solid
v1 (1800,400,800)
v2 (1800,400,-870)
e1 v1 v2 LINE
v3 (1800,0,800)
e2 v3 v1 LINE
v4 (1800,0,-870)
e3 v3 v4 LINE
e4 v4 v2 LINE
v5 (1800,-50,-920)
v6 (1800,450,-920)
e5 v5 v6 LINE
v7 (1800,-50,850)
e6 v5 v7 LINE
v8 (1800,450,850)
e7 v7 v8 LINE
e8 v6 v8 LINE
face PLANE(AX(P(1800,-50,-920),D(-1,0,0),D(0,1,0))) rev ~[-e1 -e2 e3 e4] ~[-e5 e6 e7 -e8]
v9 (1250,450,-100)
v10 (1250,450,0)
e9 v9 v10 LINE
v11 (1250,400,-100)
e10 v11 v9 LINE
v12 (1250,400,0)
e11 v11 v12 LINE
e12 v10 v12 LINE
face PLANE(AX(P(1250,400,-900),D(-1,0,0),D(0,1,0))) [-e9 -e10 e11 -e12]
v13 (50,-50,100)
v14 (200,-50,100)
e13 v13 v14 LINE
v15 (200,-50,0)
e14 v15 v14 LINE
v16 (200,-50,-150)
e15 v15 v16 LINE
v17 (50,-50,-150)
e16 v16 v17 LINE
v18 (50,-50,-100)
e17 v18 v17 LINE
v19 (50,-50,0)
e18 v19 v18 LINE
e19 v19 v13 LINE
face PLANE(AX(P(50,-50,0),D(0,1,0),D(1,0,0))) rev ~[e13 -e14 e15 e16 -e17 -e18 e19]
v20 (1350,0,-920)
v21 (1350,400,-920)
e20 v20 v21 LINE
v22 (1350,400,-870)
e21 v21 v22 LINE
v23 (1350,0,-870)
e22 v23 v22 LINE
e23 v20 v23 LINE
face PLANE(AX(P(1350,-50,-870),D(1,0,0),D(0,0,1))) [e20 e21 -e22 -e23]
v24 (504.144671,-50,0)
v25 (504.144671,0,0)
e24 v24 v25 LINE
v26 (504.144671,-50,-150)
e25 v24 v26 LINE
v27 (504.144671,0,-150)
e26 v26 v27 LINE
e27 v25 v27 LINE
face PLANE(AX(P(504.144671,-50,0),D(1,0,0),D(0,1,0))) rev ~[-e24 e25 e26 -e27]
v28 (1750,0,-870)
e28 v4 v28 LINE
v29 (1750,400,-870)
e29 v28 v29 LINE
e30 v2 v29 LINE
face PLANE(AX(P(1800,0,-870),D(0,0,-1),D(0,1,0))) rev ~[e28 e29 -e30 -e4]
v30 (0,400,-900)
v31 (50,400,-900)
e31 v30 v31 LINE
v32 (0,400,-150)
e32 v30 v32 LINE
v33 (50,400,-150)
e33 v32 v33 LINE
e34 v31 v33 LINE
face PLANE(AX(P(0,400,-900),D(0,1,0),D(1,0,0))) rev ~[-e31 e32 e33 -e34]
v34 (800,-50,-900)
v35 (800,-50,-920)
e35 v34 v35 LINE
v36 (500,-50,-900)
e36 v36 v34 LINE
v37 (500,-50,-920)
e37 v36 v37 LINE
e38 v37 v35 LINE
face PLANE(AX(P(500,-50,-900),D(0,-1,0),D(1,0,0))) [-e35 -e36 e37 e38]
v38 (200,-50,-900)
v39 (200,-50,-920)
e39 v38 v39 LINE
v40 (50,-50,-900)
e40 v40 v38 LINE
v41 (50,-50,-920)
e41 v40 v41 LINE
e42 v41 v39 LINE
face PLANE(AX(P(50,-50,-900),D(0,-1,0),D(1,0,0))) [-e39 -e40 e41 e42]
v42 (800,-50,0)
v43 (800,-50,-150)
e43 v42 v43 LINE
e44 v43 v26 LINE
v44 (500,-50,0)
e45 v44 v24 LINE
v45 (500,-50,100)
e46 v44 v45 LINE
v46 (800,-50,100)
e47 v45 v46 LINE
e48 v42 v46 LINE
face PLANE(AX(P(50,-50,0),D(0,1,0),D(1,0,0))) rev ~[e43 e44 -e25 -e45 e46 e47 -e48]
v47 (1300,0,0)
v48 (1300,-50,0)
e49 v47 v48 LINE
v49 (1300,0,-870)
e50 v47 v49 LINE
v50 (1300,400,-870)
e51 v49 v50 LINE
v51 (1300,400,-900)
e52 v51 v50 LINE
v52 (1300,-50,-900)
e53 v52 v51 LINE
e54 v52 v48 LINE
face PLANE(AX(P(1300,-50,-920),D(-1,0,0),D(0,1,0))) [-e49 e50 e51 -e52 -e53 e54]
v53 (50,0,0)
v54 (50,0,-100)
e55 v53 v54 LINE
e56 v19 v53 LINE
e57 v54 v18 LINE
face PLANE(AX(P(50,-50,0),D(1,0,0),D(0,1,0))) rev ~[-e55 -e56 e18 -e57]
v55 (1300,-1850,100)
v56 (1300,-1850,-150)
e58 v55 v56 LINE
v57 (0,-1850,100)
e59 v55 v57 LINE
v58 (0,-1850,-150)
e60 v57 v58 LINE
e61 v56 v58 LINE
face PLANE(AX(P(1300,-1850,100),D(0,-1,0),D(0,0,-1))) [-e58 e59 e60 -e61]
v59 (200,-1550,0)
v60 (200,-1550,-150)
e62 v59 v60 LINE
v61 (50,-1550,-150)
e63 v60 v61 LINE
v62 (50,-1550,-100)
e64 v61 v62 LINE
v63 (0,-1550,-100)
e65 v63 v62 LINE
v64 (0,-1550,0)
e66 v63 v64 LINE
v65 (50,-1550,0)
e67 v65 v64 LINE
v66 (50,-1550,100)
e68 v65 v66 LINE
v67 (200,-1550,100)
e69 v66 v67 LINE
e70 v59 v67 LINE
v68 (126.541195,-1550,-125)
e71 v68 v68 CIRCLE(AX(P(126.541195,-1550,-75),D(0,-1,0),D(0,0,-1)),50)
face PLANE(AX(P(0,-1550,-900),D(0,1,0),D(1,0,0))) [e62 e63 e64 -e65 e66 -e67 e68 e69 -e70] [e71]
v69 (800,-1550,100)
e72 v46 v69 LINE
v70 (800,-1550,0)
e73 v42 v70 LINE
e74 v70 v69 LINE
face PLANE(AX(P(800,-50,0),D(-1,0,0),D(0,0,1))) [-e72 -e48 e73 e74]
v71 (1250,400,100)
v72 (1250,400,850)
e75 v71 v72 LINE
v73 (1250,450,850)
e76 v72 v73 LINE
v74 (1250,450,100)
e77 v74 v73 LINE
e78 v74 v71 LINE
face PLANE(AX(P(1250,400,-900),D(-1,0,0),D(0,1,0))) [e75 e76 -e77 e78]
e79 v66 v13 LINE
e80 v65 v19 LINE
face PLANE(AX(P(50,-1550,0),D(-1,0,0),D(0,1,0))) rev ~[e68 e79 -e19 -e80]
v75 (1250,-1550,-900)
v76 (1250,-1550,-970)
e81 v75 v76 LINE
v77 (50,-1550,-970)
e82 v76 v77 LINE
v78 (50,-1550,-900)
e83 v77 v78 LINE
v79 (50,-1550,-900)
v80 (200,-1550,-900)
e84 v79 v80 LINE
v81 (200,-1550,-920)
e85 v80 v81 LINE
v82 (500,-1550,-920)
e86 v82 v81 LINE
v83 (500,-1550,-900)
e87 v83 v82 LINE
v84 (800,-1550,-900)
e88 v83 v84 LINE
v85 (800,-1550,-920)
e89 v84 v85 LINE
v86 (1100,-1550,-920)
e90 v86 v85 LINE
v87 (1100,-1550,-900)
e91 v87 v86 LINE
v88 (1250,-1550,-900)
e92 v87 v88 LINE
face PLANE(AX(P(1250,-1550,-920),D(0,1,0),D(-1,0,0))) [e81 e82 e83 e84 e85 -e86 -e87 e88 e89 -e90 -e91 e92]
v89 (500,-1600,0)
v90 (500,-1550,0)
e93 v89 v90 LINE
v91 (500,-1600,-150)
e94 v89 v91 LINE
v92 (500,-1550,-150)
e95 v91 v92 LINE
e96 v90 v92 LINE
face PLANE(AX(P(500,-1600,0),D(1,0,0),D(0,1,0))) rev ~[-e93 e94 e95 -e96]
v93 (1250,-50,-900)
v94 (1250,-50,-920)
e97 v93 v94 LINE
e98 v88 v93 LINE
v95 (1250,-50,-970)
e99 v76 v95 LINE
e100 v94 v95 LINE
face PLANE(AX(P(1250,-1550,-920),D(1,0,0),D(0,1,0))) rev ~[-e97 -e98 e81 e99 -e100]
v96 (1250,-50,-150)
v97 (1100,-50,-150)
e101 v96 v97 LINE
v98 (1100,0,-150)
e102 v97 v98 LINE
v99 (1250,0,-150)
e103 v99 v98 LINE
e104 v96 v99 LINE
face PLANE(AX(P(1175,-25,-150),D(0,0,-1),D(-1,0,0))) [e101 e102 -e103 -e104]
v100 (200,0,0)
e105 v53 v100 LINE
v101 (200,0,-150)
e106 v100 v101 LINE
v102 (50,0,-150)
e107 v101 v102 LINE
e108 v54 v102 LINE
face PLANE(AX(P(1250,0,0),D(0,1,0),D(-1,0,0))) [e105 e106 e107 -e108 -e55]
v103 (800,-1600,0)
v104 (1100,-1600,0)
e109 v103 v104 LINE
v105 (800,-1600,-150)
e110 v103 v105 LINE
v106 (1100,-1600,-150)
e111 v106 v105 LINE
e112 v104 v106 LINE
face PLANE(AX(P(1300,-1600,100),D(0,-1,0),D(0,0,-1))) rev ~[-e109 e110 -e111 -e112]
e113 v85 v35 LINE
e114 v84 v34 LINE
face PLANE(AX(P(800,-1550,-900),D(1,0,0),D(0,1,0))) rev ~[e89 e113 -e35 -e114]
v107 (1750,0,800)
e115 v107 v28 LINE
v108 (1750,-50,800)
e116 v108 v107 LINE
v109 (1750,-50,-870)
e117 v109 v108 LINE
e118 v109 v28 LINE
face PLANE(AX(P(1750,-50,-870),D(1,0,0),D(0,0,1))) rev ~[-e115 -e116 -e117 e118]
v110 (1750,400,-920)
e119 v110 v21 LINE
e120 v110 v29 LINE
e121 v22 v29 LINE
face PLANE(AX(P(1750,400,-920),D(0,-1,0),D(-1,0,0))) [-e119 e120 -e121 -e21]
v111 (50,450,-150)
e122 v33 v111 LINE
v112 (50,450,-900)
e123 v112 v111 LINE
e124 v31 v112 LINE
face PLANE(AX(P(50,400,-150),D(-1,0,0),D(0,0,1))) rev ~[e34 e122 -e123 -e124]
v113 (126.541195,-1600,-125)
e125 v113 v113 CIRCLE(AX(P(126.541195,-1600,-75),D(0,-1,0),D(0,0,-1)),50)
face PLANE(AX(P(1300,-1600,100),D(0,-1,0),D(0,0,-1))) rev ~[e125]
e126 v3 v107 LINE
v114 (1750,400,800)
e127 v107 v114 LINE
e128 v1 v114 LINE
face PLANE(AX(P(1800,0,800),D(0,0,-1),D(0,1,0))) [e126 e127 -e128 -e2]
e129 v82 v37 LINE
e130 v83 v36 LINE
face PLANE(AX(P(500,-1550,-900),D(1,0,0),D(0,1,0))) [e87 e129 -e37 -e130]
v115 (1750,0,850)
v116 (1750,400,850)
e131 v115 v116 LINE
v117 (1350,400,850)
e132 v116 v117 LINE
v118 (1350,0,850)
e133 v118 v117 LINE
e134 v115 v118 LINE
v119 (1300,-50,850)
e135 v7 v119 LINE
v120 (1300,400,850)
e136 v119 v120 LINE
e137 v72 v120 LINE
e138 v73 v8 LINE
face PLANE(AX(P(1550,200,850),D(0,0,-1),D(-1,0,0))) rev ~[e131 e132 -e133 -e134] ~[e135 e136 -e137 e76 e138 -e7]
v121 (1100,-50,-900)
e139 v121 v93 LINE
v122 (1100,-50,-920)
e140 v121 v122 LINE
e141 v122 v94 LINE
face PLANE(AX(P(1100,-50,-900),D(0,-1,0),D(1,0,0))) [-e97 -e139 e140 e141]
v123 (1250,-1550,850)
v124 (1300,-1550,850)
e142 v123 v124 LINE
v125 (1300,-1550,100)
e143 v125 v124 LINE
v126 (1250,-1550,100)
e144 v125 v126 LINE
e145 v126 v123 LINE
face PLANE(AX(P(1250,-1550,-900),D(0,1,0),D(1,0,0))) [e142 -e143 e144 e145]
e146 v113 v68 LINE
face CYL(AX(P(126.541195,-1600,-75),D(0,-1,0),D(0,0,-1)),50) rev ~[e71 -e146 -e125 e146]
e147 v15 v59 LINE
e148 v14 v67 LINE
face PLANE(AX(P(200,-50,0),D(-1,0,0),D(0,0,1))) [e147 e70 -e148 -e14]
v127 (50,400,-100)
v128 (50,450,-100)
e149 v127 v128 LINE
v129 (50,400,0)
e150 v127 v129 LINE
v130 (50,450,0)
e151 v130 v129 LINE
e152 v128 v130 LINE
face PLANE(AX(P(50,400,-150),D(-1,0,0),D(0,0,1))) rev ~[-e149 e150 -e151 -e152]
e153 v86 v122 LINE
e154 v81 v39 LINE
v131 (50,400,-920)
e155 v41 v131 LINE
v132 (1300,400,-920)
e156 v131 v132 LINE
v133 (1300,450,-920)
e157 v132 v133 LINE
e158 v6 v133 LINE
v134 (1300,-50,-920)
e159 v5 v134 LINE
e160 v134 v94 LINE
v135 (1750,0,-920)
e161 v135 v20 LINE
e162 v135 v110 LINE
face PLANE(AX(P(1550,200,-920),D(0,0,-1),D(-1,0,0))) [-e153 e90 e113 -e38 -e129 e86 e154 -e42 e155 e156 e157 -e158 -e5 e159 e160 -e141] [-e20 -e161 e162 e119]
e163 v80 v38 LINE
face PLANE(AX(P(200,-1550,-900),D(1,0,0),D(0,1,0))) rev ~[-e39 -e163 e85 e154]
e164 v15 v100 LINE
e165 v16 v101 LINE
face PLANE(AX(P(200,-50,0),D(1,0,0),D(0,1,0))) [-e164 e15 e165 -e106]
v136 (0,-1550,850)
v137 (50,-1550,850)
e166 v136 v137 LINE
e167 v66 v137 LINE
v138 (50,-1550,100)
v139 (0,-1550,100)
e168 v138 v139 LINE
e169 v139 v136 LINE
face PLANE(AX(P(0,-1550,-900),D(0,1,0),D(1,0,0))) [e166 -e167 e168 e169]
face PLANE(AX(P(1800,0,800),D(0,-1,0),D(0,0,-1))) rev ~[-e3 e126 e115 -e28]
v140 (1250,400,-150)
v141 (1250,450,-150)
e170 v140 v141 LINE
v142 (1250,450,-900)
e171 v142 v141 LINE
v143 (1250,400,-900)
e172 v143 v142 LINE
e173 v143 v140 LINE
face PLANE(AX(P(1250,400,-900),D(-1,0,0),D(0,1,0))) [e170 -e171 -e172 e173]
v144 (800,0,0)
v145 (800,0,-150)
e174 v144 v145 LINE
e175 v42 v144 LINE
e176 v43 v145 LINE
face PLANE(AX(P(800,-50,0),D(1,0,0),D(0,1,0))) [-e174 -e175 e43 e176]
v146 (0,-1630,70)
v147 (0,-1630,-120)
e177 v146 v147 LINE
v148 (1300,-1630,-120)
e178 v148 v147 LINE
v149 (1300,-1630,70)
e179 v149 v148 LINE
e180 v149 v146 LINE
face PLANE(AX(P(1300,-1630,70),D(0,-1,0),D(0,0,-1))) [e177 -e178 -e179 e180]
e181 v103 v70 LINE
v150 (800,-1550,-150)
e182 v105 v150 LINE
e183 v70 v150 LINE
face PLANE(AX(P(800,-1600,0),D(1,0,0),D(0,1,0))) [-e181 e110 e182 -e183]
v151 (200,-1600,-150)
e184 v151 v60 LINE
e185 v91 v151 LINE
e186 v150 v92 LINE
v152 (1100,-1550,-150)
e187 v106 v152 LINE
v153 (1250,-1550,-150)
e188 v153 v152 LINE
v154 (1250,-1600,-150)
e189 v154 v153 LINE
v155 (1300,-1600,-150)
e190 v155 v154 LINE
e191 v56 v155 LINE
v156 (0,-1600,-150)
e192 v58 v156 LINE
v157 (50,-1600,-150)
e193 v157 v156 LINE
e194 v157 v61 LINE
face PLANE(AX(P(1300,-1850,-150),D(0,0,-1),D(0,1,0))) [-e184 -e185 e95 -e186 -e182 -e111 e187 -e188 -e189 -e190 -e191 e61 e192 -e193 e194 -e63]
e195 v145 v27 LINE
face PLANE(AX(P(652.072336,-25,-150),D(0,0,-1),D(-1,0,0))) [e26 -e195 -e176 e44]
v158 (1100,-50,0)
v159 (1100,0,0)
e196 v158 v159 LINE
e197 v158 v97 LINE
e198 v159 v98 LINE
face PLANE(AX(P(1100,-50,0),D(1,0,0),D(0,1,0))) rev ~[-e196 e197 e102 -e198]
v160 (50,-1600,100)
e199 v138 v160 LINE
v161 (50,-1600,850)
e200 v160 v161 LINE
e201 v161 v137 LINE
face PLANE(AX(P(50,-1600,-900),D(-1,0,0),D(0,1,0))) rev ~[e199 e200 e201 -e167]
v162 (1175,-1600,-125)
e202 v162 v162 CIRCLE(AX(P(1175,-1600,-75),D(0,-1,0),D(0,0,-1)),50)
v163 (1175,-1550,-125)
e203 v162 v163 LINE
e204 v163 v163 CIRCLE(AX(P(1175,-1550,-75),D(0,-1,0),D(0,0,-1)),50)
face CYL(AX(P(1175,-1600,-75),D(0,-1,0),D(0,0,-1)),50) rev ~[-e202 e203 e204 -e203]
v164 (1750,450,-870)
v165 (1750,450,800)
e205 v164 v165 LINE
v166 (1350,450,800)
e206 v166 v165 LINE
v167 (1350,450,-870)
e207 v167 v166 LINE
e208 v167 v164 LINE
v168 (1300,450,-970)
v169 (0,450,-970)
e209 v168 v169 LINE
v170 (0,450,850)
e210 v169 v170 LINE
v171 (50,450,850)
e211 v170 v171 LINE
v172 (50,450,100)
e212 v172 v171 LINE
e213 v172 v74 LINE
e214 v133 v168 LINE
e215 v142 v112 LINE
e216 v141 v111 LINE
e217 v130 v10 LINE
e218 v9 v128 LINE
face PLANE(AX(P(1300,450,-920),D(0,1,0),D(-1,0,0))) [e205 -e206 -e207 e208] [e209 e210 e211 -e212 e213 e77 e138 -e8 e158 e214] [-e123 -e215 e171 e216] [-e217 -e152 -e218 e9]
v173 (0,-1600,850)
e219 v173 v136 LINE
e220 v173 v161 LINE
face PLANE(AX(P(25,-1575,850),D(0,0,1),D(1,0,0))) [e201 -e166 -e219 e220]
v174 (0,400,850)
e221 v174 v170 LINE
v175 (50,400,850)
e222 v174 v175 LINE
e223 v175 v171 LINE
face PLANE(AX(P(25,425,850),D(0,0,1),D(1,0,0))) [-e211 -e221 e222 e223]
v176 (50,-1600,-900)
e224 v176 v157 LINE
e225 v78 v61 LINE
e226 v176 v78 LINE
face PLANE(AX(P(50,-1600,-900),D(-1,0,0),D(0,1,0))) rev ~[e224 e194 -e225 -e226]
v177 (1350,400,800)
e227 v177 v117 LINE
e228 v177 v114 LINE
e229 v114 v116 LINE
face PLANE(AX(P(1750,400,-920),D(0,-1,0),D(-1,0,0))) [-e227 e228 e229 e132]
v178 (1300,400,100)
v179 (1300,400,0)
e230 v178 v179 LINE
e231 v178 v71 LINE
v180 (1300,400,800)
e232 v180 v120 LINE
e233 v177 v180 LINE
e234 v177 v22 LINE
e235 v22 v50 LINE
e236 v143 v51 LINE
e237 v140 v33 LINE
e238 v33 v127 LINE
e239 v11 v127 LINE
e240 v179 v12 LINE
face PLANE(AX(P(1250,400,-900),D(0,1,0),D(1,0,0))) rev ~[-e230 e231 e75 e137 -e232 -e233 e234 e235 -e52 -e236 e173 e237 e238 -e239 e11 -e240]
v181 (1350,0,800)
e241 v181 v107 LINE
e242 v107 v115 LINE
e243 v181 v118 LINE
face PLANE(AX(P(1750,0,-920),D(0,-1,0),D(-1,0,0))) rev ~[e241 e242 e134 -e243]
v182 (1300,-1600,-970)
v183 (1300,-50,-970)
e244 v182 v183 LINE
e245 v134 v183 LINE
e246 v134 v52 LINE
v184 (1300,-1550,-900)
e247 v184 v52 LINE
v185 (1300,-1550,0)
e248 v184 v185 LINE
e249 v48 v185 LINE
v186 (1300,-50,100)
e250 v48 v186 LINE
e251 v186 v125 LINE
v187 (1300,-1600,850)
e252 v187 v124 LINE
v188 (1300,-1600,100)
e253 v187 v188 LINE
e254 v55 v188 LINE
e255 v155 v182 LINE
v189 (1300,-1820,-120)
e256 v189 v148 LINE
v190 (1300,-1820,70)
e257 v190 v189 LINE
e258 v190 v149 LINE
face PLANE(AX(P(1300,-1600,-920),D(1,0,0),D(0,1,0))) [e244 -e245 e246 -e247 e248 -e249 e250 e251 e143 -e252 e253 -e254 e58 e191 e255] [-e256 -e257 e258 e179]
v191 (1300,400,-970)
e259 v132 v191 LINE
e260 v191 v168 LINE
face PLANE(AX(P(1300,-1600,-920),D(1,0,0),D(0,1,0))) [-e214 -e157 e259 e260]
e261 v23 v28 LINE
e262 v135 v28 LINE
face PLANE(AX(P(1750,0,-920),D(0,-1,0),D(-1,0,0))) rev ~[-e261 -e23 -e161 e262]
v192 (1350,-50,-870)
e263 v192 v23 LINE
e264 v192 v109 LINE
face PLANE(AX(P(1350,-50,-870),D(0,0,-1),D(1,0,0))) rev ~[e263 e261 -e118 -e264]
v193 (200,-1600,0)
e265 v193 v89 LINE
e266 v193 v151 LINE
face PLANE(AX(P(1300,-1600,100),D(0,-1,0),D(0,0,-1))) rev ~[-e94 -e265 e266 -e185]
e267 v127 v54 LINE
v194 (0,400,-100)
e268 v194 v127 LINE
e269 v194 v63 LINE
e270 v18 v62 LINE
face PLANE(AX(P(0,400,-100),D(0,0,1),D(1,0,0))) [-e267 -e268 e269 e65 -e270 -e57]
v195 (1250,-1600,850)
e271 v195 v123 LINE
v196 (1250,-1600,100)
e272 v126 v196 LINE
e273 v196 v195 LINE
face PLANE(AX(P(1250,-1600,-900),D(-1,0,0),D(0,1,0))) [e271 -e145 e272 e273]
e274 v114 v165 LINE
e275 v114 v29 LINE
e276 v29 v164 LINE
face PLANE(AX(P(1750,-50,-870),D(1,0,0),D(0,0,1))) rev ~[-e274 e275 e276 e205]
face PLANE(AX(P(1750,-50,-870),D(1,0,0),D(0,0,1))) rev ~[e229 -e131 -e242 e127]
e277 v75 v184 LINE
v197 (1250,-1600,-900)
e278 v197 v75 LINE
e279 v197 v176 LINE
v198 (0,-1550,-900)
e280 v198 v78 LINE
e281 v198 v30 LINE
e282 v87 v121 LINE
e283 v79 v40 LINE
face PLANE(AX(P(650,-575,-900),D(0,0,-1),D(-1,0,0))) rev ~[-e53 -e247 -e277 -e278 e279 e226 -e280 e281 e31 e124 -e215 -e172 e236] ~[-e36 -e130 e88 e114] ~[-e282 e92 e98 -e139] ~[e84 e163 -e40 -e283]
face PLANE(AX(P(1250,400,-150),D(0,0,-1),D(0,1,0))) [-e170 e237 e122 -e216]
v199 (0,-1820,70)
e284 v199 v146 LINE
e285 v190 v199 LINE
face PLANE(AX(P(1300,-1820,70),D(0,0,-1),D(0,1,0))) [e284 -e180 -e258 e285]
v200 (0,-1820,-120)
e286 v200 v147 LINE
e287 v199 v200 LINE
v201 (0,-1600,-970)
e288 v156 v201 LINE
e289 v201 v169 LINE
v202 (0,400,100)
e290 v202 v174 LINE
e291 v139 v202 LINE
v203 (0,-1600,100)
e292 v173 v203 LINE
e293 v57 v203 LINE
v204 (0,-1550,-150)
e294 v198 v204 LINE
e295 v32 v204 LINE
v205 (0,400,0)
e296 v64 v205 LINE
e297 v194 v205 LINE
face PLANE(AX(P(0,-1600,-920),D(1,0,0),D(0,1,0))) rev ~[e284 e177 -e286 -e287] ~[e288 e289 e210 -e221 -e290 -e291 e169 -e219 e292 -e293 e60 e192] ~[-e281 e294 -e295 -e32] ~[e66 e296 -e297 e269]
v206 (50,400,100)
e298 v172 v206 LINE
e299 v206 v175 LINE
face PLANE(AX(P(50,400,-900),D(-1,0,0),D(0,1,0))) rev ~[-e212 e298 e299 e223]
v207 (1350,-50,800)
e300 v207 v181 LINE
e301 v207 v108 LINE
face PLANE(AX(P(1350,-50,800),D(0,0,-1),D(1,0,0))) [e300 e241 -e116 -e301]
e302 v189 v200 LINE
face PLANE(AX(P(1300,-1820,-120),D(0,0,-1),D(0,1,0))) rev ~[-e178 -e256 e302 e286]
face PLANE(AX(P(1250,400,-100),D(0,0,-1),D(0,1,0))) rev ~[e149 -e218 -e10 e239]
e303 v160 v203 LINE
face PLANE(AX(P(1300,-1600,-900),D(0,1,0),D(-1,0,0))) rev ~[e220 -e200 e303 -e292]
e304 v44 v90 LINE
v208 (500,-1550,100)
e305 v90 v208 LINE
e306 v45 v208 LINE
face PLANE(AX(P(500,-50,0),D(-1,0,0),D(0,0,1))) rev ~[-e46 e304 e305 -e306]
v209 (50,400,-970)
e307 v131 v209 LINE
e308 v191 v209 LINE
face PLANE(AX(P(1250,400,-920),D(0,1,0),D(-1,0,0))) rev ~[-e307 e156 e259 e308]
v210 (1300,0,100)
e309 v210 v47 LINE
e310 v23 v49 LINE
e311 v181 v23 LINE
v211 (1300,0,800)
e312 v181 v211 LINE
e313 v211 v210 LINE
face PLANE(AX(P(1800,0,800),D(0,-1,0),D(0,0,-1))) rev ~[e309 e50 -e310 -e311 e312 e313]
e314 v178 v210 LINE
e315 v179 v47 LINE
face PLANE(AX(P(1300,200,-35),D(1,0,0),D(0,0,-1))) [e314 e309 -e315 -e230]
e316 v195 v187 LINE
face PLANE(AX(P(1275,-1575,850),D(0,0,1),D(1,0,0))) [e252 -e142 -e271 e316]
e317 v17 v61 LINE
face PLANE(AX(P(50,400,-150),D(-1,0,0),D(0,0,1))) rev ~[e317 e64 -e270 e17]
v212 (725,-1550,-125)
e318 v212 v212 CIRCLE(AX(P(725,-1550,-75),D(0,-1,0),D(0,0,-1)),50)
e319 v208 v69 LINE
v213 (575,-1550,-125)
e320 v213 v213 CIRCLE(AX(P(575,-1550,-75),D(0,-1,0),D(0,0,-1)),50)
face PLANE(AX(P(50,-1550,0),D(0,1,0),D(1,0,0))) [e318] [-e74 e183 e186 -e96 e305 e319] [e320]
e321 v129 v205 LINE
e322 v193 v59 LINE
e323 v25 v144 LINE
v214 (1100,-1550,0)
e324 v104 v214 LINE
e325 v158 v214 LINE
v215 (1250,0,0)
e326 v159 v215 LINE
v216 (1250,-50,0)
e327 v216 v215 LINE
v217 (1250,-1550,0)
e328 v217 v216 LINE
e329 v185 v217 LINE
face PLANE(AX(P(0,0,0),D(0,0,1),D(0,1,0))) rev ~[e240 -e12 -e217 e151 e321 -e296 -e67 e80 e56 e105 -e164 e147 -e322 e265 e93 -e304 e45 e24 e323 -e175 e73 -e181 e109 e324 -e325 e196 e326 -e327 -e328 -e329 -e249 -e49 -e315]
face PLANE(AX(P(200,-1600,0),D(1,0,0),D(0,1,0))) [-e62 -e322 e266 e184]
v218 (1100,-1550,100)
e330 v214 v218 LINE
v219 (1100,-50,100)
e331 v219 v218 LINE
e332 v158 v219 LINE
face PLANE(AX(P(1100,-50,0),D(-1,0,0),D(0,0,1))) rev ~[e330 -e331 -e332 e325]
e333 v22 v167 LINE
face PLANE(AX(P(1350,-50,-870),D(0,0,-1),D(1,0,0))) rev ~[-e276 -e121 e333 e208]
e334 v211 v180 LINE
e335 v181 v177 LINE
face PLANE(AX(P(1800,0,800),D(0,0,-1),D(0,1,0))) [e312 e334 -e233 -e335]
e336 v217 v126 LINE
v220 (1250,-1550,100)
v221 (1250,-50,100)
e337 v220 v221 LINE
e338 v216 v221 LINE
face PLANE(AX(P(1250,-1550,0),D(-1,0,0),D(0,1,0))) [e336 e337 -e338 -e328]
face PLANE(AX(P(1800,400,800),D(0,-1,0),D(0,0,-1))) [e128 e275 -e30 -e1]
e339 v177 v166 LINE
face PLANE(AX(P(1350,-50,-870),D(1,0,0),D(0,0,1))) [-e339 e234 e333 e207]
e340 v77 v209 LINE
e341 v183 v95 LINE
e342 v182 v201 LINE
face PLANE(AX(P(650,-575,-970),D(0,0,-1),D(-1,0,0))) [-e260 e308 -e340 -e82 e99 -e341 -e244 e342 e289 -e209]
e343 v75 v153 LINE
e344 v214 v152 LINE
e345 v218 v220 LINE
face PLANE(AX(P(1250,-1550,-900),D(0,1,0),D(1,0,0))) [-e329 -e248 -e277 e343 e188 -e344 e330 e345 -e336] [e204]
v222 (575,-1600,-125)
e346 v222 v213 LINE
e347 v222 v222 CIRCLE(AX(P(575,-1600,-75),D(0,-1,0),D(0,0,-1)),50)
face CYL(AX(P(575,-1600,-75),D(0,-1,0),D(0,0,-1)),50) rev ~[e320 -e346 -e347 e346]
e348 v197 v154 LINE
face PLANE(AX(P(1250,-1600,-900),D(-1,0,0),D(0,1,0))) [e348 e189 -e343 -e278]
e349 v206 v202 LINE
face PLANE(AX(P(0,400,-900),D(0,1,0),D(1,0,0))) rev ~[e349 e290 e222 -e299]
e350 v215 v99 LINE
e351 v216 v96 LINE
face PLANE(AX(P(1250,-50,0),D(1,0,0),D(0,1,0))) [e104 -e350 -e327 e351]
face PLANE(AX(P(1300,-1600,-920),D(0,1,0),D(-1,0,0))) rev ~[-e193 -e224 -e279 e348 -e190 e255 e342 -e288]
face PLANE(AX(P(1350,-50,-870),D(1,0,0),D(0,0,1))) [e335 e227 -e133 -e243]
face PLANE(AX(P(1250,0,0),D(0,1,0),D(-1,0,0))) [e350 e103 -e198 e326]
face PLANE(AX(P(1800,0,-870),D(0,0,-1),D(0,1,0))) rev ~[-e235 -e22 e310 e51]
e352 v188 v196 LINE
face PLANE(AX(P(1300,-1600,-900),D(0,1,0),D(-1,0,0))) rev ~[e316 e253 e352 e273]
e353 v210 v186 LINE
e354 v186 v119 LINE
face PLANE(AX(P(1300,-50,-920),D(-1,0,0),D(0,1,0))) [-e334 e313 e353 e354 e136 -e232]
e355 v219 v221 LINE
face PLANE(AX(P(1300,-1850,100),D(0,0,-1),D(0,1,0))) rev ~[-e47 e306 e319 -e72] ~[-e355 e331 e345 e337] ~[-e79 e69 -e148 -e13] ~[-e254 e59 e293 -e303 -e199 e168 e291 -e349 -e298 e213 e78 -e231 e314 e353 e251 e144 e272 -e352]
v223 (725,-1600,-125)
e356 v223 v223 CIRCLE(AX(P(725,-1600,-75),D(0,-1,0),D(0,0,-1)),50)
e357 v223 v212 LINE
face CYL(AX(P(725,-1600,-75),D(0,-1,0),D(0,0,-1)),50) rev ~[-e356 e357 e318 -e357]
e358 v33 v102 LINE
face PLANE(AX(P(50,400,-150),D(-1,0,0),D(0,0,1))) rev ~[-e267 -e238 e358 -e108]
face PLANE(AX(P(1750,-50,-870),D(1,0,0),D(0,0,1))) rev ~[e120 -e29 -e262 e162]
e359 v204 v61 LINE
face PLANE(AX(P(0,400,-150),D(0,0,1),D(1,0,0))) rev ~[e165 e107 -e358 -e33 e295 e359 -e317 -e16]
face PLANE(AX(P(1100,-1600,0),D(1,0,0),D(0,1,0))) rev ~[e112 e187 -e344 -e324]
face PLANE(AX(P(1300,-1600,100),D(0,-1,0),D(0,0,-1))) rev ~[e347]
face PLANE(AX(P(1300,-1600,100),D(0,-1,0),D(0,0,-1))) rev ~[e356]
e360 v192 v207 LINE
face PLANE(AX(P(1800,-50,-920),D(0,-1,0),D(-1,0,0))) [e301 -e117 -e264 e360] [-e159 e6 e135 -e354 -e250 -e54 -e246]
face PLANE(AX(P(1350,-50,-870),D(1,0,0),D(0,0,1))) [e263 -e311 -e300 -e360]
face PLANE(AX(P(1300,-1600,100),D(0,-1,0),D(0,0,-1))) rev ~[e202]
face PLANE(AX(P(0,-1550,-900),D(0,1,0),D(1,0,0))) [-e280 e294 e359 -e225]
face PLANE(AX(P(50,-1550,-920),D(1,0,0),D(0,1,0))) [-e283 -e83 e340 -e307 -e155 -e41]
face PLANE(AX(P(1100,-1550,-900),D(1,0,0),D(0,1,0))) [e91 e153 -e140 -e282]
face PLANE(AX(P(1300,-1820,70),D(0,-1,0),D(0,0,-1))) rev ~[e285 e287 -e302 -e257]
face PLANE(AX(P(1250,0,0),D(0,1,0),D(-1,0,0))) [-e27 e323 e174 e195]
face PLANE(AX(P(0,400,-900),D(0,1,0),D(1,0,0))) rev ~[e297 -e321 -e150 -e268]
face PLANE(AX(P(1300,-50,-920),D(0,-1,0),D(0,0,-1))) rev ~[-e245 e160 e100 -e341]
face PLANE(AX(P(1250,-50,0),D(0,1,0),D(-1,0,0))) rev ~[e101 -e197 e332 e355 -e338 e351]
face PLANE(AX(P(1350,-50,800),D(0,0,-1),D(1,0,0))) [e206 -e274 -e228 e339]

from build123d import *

# Parameters (mm, degrees)
SKETCH1_W                = 1300
SKETCH1_H                = 1600
SKETCH1_W_2              = 1200
SKETCH1_H_2              = 1500
BOSS_EXTRUDE1_DEPTH      = 100
SKETCH2_W                = 300
SKETCH2_H                = 100
BOSS_EXTRUDE2_DEPTH      = 1500
SKETCH3_W                = 150
SKETCH3_H                = 50
SKETCH3_W_2              = 295.855328594
SKETCH3_W_3              = 300
BOSS_EXTRUDE3_DEPTH      = 150
SKETCH4_R                = 50
CUT_EXTRUDE1_DEPTH       = 50
SKETCH5_W                = 100
SKETCH5_H                = 450
BOSS_EXTRUDE6_DEPTH      = 1300
BOSS_EXTRUDE7_DEPTH      = 750
BOSS_EXTRUDE7_DEPTH_BACK = 1000
SKETCH6_W                = 50
SKETCH6_H                = 50
SKETCH7_W                = 1300
SKETCH7_H                = 2050
BOSS_EXTRUDE8_DEPTH      = 20
SKETCH8_W                = 150
SKETCH8_H                = 1500
SKETCH8_W_2              = 300
CUT_EXTRUDE2_DEPTH       = 20
SKETCH9_W                = 50
SKETCH9_H                = 50
BOSS_EXTRUDE9_DEPTH      = 1958
SKETCH10_W               = 50
SKETCH10_H               = 50
BOSS_EXTRUDE10_DEPTH     = 1200
SKETCH11_W               = 500
SKETCH11_H               = 500
SKETCH11_W_2             = 400
SKETCH11_H_2             = 400
BOSS_EXTRUDE11_DEPTH     = 1770
SKETCH12_W               = 400
SKETCH12_H               = 1670
CUT_EXTRUDE3_DEPTH       = 500
SKETCH13_W               = 1670
SKETCH13_H               = 400
CUT_EXTRUDE5_DEPTH       = 500
SKETCH14_W               = 250
SKETCH14_H               = 250
SKETCH14_W_2             = 190
SKETCH14_H_2             = 190
BOSS_EXTRUDE12_DEPTH     = 1300
SKETCH15_W               = 1300
SKETCH15_H               = 2050
SKETCH15_W_2             = 1200
SKETCH15_H_2             = 1950
BOSS_EXTRUDE13_DEPTH     = 50
SKETCH16_W               = 50
SKETCH16_H               = 450
CUT_EXTRUDE6_DEPTH       = 50


with BuildPart() as part:
    # Sketch1 → Boss-Extrude1 (new body)
    with BuildSketch(Plane.XY):
        with Locations((650, -800)):
            Rectangle(SKETCH1_W, SKETCH1_H)
        with Locations((650, -800)):
            Rectangle(SKETCH1_W_2, SKETCH1_H_2, mode=Mode.SUBTRACT)
    extrude(amount=BOSS_EXTRUDE1_DEPTH)

    # Sketch2 → Boss-Extrude2 (add)
    with BuildSketch(Plane.XZ.offset(50)):
        with Locations((350, 50)):
            Rectangle(SKETCH2_W, SKETCH2_H)
        with Locations((950, 50)):
            Rectangle(SKETCH2_W, SKETCH2_H)
    extrude(amount=BOSS_EXTRUDE2_DEPTH)

    # Sketch3 → Boss-Extrude3 (add)
    with BuildSketch(Plane(origin=(0, 0, 0), x_dir=(-1, 0, 0), z_dir=(0, 0, -1))):
        with Locations((-1175, -25)):
            Rectangle(SKETCH3_W, SKETCH3_H)
        with Locations((-652.072335703, -25)):
            Rectangle(SKETCH3_W_2, SKETCH3_H)
        with Locations((-125, -25)):
            Rectangle(SKETCH3_W, SKETCH3_H)
        with Locations((-1175, -1575)):
            Rectangle(SKETCH3_W, SKETCH3_H)
        with Locations((-650, -1575)):
            Rectangle(SKETCH3_W_3, SKETCH3_H)
        with Locations((-125, -1575)):
            Rectangle(SKETCH3_W, SKETCH3_H)
    extrude(amount=BOSS_EXTRUDE3_DEPTH)

    # Sketch4 → Cut-Extrude1 (cut)
    with BuildSketch(Plane.XZ.offset(1600)):
        with Locations(Location((1175, -75, 0), (0, 0, 270))):
            Circle(SKETCH4_R)
        with Locations(Location((725, -75, 0), (0, 0, 270))):
            Circle(SKETCH4_R)
        with Locations(Location((575, -75, 0), (0, 0, 270))):
            Circle(SKETCH4_R)
        with Locations(Location((126.541195245, -75, 0), (0, 0, 270))):
            Circle(SKETCH4_R)
    extrude(amount=-CUT_EXTRUDE1_DEPTH, mode=Mode.SUBTRACT)

    # Sketch5 → Boss-Extrude6 (add)
    with BuildSketch(Plane.ZY):
        with Locations((50, 225)):
            Rectangle(SKETCH5_W, SKETCH5_H)
    extrude(amount=-BOSS_EXTRUDE6_DEPTH)

    # Sketch6 → Boss-Extrude7 (add, two sides: drawn at the far end of the back side and taken through both)
    with BuildSketch(Plane.XY.offset(100).offset(-BOSS_EXTRUDE7_DEPTH_BACK)):
        with Locations((25, 425)):
            Rectangle(SKETCH6_W, SKETCH6_H)
        with Locations((1275, 425)):
            Rectangle(SKETCH6_W, SKETCH6_H)
        with Locations((1275, -1575)):
            Rectangle(SKETCH6_W, SKETCH6_H)
        with Locations((25, -1575)):
            Rectangle(SKETCH6_W, SKETCH6_H)
    extrude(amount=BOSS_EXTRUDE7_DEPTH + BOSS_EXTRUDE7_DEPTH_BACK)

    # Sketch7 → Boss-Extrude8 (add)
    with BuildSketch(Plane(origin=(0, 0, -900), x_dir=(-1, 0, 0), z_dir=(0, 0, -1))):
        with Locations((-650, -575)):
            Rectangle(SKETCH7_W, SKETCH7_H)
    extrude(amount=BOSS_EXTRUDE8_DEPTH)

    # Sketch8 → Cut-Extrude2 (cut)
    with BuildSketch(Plane.XY.offset(-900)):
        with Locations((1175, -800)):
            Rectangle(SKETCH8_W, SKETCH8_H)
        with Locations((650, -800)):
            Rectangle(SKETCH8_W_2, SKETCH8_H)
        with Locations((125, -800)):
            Rectangle(SKETCH8_W, SKETCH8_H)
    extrude(amount=-CUT_EXTRUDE2_DEPTH, mode=Mode.SUBTRACT)

    # Sketch9 → Boss-Extrude9 (add)
    with BuildSketch(Plane.XZ.offset(-400)):
        with Locations((25, -125)):
            Rectangle(SKETCH9_W, SKETCH9_H)
    extrude(amount=BOSS_EXTRUDE9_DEPTH)

    # Sketch10 → Boss-Extrude10 (add)
    with BuildSketch(Plane.ZY.offset(-1250)):
        with Locations((-125, 425)):
            Rectangle(SKETCH10_W, SKETCH10_H)
    extrude(amount=BOSS_EXTRUDE10_DEPTH)

    # Sketch11 → Boss-Extrude11 (add)
    with BuildSketch(Plane(origin=(0, 0, -920), x_dir=(-1, 0, 0), z_dir=(0, 0, -1))):
        with Locations((-1550, 200)):
            Rectangle(SKETCH11_W, SKETCH11_H)
        with Locations((-1550, 200)):
            Rectangle(SKETCH11_W_2, SKETCH11_H_2, mode=Mode.SUBTRACT)
    extrude(amount=-BOSS_EXTRUDE11_DEPTH)

    # Sketch12 → Cut-Extrude3 (cut)
    with BuildSketch(Plane.XZ.offset(50)):
        with Locations((1550, -35)):
            Rectangle(SKETCH12_W, SKETCH12_H)
    extrude(amount=-CUT_EXTRUDE3_DEPTH, mode=Mode.SUBTRACT)

    # Sketch13 → Cut-Extrude5 (cut)
    with BuildSketch(Plane(origin=(1800, 0, 0), x_dir=(0, 0, -1), z_dir=(1, 0, 0))):
        with Locations((35, 200)):
            Rectangle(SKETCH13_W, SKETCH13_H)
    extrude(amount=-CUT_EXTRUDE5_DEPTH, mode=Mode.SUBTRACT)

    # Sketch14 → Boss-Extrude12 (add)
    with BuildSketch(Plane(origin=(1300, 0, 0), x_dir=(0, 0, -1), z_dir=(1, 0, 0))):
        with Locations((25, -1725)):
            Rectangle(SKETCH14_W, SKETCH14_H)
        with Locations((25, -1725)):
            Rectangle(SKETCH14_W_2, SKETCH14_H_2, mode=Mode.SUBTRACT)
    extrude(amount=-BOSS_EXTRUDE12_DEPTH)

    # Sketch15 → Boss-Extrude13 (add)
    with BuildSketch(Plane(origin=(0, 0, -920), x_dir=(-1, 0, 0), z_dir=(0, 0, -1))):
        with Locations((-650, -575)):
            Rectangle(SKETCH15_W, SKETCH15_H)
        with Locations((-650, -575)):
            Rectangle(SKETCH15_W_2, SKETCH15_H_2, mode=Mode.SUBTRACT)
    extrude(amount=BOSS_EXTRUDE13_DEPTH)

    # Sketch16 → Cut-Extrude6 (cut)
    with BuildSketch(Plane(origin=(1300, 0, 0), x_dir=(0, 0, -1), z_dir=(1, 0, 0))):
        with Locations((945, 175)):
            Rectangle(SKETCH16_W, SKETCH16_H)
    extrude(amount=-CUT_EXTRUDE6_DEPTH, mode=Mode.SUBTRACT)


solid = part.part
